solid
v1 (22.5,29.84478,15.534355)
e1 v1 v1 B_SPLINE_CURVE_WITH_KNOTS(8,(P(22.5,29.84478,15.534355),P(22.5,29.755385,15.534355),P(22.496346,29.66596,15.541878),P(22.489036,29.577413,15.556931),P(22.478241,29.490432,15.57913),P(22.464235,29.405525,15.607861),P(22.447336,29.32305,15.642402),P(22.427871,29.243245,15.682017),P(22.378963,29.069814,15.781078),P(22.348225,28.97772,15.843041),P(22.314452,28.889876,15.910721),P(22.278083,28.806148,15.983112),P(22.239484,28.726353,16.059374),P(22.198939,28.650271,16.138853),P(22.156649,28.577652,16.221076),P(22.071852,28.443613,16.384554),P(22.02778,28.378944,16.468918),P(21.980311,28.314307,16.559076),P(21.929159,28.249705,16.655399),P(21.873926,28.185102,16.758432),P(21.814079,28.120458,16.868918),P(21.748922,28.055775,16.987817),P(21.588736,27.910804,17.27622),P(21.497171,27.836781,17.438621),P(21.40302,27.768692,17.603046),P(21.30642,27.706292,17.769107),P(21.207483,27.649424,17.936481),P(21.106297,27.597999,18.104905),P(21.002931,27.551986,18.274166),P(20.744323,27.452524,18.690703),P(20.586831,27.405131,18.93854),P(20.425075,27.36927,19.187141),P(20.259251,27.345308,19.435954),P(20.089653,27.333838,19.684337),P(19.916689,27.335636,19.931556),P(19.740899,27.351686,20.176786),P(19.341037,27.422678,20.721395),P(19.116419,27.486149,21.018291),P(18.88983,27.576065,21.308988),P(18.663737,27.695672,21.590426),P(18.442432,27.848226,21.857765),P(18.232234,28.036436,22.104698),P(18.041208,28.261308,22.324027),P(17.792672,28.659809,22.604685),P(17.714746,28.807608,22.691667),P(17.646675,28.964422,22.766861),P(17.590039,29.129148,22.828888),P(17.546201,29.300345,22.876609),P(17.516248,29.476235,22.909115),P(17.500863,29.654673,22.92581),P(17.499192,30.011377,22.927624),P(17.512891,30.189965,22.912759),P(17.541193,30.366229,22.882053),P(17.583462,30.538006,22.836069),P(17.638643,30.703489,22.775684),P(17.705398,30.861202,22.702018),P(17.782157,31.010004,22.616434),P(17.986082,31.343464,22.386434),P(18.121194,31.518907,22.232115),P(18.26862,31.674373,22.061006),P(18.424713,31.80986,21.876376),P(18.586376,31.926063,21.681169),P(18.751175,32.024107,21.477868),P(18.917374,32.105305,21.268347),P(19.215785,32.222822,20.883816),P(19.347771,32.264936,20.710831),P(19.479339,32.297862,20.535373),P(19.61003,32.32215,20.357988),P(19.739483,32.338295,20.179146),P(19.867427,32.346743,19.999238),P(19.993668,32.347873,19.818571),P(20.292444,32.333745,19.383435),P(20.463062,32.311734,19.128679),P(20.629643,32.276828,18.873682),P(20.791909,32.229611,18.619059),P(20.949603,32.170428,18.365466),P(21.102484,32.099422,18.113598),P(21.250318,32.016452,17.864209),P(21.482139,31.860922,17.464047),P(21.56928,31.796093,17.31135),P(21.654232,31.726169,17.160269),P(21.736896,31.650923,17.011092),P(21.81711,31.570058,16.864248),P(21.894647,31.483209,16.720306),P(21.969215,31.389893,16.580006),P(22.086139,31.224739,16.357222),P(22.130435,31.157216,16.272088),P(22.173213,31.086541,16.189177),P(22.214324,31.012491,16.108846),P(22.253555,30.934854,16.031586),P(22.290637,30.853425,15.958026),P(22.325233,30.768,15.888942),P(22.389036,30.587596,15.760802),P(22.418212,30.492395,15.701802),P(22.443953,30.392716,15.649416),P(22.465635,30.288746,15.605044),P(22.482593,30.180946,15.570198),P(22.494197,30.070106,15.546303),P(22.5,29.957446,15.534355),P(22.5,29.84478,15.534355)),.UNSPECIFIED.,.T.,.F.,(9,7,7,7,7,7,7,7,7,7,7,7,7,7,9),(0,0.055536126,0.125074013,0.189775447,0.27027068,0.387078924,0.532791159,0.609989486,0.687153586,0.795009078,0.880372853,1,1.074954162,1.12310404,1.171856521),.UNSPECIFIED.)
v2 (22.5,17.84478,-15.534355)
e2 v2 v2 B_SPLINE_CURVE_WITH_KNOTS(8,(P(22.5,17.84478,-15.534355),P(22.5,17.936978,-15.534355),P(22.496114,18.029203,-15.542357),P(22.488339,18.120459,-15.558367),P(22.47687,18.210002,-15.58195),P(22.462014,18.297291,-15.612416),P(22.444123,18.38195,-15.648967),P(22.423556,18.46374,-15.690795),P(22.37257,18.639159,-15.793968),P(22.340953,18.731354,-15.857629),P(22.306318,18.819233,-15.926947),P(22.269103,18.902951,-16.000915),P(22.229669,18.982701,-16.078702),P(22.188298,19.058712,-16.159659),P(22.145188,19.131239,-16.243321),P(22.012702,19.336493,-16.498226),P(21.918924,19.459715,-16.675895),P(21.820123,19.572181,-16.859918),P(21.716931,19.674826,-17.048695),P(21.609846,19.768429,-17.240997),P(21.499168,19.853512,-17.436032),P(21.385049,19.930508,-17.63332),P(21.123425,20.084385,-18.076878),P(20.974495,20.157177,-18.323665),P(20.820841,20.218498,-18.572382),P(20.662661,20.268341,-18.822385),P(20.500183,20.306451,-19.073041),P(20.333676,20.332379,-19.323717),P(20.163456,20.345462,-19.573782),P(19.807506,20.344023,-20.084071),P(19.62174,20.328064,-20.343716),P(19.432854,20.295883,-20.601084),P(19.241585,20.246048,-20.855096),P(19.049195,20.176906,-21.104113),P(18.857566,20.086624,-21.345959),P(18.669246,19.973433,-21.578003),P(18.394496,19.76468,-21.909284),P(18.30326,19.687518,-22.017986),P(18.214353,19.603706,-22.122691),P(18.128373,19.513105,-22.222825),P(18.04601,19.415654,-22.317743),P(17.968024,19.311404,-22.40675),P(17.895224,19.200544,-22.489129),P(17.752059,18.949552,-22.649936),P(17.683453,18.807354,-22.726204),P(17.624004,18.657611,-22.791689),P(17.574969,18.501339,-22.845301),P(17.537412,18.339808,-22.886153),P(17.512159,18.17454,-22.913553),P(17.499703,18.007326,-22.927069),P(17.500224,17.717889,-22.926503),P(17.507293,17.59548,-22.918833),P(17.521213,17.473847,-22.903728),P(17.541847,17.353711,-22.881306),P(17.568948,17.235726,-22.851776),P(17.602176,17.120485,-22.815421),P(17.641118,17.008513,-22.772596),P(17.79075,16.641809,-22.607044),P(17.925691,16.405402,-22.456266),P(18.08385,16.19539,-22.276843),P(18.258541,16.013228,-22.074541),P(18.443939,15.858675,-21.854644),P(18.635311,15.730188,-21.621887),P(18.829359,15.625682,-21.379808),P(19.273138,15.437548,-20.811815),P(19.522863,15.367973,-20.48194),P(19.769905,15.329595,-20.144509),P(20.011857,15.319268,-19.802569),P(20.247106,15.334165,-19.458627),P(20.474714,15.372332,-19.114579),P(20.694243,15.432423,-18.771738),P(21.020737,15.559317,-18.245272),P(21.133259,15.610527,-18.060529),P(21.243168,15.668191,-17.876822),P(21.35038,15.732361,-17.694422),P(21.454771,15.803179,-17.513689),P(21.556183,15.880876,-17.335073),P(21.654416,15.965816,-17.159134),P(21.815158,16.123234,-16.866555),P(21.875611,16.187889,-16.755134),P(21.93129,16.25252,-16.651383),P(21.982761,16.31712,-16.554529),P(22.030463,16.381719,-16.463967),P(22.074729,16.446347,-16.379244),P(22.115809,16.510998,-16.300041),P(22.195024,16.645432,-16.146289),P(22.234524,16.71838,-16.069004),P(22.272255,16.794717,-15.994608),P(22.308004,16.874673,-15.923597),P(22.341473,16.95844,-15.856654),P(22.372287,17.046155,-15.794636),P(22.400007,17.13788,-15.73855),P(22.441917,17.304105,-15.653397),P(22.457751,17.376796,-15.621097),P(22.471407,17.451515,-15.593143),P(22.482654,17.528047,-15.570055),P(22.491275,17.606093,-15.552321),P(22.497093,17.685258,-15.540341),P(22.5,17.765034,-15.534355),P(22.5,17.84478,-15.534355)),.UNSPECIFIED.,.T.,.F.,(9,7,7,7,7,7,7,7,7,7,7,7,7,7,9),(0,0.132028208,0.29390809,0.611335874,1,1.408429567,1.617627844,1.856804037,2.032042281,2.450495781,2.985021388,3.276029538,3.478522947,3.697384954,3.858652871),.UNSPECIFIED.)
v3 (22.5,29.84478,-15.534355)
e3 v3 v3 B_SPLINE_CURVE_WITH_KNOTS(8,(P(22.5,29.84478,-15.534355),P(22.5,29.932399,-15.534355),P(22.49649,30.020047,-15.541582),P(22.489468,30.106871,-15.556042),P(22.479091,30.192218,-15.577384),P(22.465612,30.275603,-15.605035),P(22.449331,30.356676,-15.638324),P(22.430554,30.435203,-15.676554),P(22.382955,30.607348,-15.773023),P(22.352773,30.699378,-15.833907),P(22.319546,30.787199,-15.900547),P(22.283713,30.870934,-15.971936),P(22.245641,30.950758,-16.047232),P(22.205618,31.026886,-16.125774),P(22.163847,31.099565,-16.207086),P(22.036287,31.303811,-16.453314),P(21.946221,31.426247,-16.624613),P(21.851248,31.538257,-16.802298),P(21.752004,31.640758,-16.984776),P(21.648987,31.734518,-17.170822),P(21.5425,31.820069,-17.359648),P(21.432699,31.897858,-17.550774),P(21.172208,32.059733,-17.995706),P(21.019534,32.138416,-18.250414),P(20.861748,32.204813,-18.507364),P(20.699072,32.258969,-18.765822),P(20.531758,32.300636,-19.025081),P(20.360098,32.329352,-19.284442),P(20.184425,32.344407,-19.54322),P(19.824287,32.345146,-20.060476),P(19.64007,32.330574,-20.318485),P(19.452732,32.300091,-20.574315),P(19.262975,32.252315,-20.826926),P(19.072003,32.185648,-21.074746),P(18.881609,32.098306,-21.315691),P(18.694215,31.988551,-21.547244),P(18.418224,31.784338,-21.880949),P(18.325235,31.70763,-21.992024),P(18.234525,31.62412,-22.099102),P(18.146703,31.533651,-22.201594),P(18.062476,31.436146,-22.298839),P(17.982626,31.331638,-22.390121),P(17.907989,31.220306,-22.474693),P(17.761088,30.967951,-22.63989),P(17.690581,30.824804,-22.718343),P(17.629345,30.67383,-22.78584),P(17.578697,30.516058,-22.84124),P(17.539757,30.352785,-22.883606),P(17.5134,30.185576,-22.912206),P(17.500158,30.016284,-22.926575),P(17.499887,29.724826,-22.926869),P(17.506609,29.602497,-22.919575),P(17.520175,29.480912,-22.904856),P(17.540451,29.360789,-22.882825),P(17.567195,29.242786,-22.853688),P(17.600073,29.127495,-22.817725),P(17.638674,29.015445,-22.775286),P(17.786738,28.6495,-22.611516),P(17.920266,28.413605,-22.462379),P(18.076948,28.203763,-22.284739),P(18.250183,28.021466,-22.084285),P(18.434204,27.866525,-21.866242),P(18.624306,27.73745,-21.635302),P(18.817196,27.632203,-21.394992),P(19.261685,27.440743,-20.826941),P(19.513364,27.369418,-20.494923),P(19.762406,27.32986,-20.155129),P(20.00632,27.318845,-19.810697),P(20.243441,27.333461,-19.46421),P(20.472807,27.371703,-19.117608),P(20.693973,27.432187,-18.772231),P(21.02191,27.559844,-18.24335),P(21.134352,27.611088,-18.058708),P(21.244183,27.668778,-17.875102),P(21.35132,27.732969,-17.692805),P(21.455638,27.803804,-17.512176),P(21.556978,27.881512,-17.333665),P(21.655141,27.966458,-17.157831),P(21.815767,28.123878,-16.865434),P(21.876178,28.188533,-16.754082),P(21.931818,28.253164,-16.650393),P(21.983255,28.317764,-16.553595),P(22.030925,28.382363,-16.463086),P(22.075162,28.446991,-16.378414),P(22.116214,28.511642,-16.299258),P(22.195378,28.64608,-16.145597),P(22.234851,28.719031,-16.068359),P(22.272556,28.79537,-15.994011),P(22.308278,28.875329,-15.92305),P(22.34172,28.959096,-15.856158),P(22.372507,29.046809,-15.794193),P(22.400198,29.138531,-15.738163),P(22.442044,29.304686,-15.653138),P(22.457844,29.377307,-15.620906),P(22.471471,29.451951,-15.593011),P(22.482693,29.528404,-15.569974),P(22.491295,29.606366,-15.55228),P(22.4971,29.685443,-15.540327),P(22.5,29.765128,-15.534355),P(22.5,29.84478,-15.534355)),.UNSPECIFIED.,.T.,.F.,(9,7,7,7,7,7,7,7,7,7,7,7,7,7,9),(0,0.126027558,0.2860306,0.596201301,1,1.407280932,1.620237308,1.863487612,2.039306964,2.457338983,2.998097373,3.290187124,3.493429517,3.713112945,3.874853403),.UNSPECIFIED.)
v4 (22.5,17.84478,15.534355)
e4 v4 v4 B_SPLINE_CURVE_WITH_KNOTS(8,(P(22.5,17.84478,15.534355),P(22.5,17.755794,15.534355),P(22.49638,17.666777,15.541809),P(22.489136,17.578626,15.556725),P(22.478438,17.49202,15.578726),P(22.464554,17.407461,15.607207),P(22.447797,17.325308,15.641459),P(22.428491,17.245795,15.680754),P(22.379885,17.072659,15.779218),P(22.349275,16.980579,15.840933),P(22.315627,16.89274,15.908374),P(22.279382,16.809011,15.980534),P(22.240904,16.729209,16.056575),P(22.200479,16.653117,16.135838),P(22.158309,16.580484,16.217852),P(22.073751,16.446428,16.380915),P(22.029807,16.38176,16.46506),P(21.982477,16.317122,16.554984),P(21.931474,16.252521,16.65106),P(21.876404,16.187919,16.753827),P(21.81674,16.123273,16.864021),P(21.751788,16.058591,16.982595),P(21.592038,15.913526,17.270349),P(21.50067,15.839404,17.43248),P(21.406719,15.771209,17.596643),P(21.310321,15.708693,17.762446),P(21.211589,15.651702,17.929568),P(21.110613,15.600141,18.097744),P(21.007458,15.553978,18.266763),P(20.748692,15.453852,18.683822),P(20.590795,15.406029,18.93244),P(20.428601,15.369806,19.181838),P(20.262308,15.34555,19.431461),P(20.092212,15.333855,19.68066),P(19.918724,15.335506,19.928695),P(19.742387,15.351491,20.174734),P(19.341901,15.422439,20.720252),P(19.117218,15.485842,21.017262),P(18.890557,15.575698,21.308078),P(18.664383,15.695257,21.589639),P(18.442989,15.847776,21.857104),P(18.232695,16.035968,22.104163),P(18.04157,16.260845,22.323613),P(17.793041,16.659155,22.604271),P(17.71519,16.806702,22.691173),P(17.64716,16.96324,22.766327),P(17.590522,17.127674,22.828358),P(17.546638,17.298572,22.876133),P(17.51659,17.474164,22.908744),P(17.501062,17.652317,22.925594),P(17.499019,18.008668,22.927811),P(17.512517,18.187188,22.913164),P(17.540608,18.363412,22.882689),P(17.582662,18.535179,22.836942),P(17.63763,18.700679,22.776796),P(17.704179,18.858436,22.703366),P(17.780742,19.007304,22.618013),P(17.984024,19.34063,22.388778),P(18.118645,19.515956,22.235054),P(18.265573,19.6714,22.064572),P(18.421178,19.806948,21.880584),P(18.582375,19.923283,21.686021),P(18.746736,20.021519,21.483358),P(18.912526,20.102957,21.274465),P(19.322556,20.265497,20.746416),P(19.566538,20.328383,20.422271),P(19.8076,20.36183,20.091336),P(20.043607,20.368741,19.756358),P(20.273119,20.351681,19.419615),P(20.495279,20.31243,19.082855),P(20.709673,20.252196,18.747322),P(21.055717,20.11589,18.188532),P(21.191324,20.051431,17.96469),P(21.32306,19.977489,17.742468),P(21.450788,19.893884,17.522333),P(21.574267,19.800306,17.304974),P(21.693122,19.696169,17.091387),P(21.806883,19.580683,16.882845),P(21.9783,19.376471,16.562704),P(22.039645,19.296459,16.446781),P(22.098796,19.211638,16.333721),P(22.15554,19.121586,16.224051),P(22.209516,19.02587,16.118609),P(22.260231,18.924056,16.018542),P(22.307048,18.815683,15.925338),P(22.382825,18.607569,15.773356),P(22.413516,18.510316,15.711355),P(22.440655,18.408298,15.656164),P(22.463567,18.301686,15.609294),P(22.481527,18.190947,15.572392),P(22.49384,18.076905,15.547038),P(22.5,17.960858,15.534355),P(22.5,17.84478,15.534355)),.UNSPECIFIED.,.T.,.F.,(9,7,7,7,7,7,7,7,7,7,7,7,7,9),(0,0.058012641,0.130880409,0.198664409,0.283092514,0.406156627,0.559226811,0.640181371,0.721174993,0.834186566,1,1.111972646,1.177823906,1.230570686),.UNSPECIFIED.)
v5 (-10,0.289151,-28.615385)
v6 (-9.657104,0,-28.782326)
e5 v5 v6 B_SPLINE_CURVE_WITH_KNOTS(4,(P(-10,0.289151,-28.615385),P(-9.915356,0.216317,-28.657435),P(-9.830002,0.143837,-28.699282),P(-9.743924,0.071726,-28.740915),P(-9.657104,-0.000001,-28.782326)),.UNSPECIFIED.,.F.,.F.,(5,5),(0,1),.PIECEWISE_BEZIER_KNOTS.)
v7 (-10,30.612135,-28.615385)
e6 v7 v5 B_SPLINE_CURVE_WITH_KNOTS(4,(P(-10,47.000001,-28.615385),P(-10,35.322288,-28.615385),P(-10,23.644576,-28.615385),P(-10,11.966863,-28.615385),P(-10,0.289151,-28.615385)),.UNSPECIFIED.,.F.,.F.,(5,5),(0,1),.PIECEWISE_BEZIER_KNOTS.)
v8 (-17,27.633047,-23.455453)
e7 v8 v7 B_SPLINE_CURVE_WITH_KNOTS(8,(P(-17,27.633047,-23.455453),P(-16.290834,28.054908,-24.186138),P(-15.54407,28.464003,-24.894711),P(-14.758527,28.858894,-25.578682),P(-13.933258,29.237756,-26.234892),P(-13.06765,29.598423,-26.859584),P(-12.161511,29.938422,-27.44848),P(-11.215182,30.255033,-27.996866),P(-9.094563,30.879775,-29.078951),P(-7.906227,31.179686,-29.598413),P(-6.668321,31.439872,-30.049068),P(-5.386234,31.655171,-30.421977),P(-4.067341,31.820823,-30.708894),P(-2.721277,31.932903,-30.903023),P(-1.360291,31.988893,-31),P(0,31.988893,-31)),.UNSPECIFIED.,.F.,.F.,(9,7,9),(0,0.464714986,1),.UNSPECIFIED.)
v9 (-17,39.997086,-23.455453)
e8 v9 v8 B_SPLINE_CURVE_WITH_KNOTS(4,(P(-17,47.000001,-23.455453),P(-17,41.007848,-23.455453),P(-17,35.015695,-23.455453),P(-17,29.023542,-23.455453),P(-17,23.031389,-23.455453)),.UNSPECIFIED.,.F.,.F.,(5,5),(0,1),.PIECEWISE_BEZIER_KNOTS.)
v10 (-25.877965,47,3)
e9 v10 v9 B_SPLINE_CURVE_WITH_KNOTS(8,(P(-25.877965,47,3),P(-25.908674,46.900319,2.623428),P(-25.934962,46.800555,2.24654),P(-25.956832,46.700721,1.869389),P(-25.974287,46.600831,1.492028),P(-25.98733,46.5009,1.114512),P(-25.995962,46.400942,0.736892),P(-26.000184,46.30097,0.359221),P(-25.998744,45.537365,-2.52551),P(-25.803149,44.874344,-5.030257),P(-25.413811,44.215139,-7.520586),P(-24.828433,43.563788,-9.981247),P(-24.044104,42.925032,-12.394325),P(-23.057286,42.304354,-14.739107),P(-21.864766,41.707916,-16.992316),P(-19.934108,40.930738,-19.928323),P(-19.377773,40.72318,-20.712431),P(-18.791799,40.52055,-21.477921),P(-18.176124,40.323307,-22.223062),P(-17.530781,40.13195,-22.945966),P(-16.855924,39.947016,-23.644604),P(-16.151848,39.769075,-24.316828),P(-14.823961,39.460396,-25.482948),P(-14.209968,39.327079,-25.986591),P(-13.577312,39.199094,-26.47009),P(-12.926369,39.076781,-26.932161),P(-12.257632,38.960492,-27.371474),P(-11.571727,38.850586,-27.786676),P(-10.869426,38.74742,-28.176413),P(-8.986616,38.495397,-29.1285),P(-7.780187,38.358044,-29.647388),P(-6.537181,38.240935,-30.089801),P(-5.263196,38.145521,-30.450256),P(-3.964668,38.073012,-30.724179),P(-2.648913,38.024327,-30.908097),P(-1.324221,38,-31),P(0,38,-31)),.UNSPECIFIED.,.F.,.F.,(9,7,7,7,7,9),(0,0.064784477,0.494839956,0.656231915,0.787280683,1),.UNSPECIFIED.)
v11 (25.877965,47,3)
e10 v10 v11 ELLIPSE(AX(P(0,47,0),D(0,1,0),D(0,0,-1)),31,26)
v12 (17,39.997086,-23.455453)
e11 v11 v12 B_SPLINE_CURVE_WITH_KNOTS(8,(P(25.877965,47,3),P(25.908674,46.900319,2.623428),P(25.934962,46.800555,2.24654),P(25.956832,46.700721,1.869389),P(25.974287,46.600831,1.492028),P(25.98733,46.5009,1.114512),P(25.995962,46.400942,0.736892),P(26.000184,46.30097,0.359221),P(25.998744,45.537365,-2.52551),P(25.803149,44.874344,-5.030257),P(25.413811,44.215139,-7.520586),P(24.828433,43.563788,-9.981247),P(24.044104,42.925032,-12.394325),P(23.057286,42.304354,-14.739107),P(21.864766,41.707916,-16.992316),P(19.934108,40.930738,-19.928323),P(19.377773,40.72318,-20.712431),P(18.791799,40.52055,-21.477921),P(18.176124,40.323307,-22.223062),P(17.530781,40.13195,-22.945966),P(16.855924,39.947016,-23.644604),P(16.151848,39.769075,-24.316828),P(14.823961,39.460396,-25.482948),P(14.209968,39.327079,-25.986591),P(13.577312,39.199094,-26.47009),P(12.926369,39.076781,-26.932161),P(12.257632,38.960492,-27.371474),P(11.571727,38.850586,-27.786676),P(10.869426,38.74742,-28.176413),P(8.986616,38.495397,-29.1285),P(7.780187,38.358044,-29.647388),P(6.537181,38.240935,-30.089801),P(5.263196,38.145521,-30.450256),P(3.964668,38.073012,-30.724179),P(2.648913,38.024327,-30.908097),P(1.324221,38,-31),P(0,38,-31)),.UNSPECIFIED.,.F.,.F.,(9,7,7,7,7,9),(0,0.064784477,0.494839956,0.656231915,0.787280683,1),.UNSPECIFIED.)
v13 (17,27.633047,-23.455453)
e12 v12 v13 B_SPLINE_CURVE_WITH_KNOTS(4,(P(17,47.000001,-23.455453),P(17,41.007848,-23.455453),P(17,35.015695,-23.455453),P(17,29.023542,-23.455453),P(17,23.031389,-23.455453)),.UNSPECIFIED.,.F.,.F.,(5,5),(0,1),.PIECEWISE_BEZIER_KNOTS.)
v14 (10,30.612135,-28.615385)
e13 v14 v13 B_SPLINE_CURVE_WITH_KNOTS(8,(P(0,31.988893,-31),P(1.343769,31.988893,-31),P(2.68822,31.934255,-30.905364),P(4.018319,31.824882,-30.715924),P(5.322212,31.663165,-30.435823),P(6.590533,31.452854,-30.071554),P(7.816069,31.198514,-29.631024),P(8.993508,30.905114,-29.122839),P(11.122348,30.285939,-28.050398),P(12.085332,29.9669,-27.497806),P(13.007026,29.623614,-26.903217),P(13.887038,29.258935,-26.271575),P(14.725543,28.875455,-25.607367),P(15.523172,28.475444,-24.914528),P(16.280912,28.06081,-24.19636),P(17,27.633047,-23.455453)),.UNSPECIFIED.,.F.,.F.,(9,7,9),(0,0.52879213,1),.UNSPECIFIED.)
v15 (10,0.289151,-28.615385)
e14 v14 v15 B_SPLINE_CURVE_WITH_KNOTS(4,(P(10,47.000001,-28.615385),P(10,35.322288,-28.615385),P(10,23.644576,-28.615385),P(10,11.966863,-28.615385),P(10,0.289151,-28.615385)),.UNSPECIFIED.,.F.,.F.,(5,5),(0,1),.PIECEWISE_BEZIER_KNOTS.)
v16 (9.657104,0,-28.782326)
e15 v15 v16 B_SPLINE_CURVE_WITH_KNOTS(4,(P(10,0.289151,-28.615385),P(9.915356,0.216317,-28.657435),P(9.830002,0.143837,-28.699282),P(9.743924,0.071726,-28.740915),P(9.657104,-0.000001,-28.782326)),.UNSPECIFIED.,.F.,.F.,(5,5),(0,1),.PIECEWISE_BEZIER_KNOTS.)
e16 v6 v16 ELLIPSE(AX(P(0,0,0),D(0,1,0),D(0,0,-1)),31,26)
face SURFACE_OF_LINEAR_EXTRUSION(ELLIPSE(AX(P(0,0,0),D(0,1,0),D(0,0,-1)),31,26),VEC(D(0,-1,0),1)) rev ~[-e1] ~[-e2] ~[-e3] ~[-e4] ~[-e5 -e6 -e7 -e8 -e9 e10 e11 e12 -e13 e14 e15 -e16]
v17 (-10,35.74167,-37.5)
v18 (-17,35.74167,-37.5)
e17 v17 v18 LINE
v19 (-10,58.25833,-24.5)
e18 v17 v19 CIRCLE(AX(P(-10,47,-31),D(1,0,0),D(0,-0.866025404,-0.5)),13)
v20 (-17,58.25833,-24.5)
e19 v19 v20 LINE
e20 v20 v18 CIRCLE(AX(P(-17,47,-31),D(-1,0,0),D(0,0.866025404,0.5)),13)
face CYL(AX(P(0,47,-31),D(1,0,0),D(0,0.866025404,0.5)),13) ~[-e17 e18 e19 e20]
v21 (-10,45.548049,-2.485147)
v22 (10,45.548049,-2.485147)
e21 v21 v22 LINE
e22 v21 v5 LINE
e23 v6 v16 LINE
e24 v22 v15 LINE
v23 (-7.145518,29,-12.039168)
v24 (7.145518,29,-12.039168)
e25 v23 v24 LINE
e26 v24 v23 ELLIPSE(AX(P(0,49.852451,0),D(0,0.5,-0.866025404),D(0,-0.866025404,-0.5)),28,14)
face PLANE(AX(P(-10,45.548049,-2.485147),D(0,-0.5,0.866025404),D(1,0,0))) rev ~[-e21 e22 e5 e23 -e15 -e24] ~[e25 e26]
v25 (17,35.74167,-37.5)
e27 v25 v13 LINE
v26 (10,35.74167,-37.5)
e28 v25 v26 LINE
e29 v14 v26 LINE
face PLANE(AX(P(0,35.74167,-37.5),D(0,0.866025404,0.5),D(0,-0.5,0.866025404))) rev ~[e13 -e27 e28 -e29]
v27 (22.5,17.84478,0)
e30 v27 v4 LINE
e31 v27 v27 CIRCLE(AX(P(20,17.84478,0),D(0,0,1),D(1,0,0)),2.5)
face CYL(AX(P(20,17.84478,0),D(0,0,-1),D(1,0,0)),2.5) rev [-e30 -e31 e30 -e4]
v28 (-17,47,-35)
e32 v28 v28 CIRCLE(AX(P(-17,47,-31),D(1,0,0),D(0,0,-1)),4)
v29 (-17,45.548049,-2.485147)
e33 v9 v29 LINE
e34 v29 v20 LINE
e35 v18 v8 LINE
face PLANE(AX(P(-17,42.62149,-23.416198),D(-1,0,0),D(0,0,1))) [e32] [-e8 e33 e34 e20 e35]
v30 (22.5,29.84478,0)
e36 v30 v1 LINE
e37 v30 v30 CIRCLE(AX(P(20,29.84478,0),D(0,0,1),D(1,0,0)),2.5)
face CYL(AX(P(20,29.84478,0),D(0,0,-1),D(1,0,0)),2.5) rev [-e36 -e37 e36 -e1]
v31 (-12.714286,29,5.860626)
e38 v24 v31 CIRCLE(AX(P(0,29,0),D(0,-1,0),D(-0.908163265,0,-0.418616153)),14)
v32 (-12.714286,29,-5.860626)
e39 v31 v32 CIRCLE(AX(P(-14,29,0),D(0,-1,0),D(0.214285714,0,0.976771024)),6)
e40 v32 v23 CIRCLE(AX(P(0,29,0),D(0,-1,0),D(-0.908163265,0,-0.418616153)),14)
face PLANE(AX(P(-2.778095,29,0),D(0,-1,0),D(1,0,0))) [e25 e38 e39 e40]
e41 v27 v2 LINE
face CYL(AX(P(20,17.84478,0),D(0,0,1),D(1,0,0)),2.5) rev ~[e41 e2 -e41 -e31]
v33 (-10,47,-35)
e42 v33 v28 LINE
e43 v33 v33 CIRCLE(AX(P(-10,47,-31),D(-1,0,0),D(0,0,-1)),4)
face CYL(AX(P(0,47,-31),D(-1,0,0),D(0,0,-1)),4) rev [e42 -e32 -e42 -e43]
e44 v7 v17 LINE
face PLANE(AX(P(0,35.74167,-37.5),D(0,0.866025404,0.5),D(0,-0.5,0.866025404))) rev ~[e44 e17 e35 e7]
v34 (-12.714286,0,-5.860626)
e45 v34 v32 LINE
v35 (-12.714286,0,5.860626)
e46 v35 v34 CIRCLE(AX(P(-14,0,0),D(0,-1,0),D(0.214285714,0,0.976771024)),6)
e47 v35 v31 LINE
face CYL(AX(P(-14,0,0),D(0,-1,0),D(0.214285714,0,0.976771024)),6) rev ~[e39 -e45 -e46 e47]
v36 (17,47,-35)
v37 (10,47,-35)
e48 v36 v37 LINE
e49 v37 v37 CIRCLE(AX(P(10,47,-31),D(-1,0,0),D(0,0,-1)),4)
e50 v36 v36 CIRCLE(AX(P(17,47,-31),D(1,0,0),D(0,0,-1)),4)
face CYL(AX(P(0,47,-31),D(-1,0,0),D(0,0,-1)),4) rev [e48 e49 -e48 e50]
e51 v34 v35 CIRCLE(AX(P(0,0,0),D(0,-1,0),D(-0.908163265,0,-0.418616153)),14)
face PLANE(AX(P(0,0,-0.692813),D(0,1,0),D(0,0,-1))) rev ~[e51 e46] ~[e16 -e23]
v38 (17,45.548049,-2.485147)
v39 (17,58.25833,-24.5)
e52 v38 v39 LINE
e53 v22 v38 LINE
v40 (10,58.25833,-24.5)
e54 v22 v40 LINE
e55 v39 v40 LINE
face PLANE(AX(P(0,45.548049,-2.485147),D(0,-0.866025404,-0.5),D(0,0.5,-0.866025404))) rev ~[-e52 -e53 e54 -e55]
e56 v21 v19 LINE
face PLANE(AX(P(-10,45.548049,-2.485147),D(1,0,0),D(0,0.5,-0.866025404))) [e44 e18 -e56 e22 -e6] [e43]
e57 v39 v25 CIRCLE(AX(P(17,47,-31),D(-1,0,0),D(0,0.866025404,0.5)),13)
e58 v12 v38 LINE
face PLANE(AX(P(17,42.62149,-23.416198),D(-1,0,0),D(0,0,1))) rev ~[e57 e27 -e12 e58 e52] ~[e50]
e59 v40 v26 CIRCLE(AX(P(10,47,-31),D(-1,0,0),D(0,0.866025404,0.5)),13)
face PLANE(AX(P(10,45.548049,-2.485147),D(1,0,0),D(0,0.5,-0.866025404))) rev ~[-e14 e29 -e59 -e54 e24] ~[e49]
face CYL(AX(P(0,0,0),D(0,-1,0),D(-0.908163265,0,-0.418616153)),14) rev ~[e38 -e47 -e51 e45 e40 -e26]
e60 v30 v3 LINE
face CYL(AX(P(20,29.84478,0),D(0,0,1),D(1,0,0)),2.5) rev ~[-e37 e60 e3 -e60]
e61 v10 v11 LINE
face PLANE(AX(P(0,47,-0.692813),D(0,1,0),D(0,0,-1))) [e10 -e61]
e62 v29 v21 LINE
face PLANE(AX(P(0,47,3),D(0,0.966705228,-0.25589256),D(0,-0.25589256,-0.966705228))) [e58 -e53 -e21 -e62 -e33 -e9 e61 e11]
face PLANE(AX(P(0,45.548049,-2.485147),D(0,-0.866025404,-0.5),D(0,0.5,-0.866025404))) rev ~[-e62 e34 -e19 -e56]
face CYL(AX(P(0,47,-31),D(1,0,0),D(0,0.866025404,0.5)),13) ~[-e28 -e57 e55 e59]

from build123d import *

# Parameters (mm, degrees)
SKETCH2_RX              = 31
SKETCH2_RY              = 26
BOSS_EXTRUDE1_DEPTH     = 47
CUT_EXTRUDE1_DEPTH      = 29
CUT_EXTRUDE2_DEPTH      = 27
CUT_EXTRUDE2_DEPTH_BACK = 27
SKETCH5_R               = 4
BOSS_EXTRUDE2_DEPTH     = 17
SKETCH6_W               = 20
SKETCH6_H               = 38.42056209
CUT_EXTRUDE3_DEPTH      = 61.203194114
SKETCH7_R               = 2.5
CUT_EXTRUDE4_DEPTH      = 32.0000001
CUT_EXTRUDE4_DEPTH_BACK = 45.0000001


with BuildPart() as part:
    # Sketch2 → Boss-Extrude1 (new body)
    with BuildSketch(Plane(origin=(0, 0, 0), x_dir=(1, 0, 0), z_dir=(0, 1, 0))):
        with Locations(Location((0, 0), (0, 0, 90))):
            Ellipse(SKETCH2_RX, SKETCH2_RY)
    extrude(amount=BOSS_EXTRUDE1_DEPTH)

    # Sketch3 → Cut-Extrude1 (cut)
    with BuildSketch(Plane.XZ):
        with BuildLine():
            ThreePointArc((-12.714285714, -5.860626142), (14, 0), (-12.714285714, 5.860626142))
            ThreePointArc((-12.714285714, 5.860626142), (-20, 0), (-12.714285714, -5.860626142))
        make_face()
    extrude(amount=-CUT_EXTRUDE1_DEPTH, mode=Mode.SUBTRACT)

    # Sketch4 → Cut-Extrude2 (cut, two sides)
    with BuildSketch(Plane(origin=(0, 0, 0), x_dir=(0, 0, -1), z_dir=(1, 0, 0))) as cut_extrude2_sk:
        Polygon((-3, 47), (31, 38), (31, 47), align=None)
    extrude(amount=CUT_EXTRUDE2_DEPTH, mode=Mode.SUBTRACT)
    extrude(cut_extrude2_sk.sketch, amount=-CUT_EXTRUDE2_DEPTH_BACK, mode=Mode.SUBTRACT)

    # Sketch5 → Boss-Extrude2 (add, symmetric)
    with BuildSketch(Plane(origin=(0, 0, 0), x_dir=(0, 0, -1), z_dir=(1, 0, 0))):
        with BuildLine():
            Line((2.485147451, 45.548049204), (24.5, 58.258330249))
            ThreePointArc((24.5, 58.258330249), (42.258330249, 53.5), (37.5, 35.741669751))
            Line((37.5, 35.741669751), (15.485147451, 23.031388706))
            Line((15.485147451, 23.031388706), (2.485147451, 45.548049204))
        make_face()
        with Locations((31, 47)):
            Circle(SKETCH5_R, mode=Mode.SUBTRACT)
    extrude(amount=BOSS_EXTRUDE2_DEPTH, both=True)

    # Sketch6 → Cut-Extrude3 (cut, through all)
    with BuildSketch(Plane(origin=(0, 33.084936491, 19.101596989), x_dir=(1, 0, 0), z_dir=(0, 0.866025404, 0.5))):
        with Locations((0, 44.136506472)):
            Rectangle(SKETCH6_W, SKETCH6_H)
    extrude(amount=-CUT_EXTRUDE3_DEPTH, mode=Mode.SUBTRACT)

    # Sketch7 → Cut-Extrude4 (cut, two sides)
    with BuildSketch(Plane.XY) as cut_extrude4_sk:
        with Locations((20, 29.844780472)):
            Circle(SKETCH7_R)
        with Locations((20, 17.844780472)):
            Circle(SKETCH7_R)
    extrude(amount=CUT_EXTRUDE4_DEPTH, mode=Mode.SUBTRACT)
    extrude(cut_extrude4_sk.sketch, amount=-CUT_EXTRUDE4_DEPTH_BACK, mode=Mode.SUBTRACT)


solid = part.part
